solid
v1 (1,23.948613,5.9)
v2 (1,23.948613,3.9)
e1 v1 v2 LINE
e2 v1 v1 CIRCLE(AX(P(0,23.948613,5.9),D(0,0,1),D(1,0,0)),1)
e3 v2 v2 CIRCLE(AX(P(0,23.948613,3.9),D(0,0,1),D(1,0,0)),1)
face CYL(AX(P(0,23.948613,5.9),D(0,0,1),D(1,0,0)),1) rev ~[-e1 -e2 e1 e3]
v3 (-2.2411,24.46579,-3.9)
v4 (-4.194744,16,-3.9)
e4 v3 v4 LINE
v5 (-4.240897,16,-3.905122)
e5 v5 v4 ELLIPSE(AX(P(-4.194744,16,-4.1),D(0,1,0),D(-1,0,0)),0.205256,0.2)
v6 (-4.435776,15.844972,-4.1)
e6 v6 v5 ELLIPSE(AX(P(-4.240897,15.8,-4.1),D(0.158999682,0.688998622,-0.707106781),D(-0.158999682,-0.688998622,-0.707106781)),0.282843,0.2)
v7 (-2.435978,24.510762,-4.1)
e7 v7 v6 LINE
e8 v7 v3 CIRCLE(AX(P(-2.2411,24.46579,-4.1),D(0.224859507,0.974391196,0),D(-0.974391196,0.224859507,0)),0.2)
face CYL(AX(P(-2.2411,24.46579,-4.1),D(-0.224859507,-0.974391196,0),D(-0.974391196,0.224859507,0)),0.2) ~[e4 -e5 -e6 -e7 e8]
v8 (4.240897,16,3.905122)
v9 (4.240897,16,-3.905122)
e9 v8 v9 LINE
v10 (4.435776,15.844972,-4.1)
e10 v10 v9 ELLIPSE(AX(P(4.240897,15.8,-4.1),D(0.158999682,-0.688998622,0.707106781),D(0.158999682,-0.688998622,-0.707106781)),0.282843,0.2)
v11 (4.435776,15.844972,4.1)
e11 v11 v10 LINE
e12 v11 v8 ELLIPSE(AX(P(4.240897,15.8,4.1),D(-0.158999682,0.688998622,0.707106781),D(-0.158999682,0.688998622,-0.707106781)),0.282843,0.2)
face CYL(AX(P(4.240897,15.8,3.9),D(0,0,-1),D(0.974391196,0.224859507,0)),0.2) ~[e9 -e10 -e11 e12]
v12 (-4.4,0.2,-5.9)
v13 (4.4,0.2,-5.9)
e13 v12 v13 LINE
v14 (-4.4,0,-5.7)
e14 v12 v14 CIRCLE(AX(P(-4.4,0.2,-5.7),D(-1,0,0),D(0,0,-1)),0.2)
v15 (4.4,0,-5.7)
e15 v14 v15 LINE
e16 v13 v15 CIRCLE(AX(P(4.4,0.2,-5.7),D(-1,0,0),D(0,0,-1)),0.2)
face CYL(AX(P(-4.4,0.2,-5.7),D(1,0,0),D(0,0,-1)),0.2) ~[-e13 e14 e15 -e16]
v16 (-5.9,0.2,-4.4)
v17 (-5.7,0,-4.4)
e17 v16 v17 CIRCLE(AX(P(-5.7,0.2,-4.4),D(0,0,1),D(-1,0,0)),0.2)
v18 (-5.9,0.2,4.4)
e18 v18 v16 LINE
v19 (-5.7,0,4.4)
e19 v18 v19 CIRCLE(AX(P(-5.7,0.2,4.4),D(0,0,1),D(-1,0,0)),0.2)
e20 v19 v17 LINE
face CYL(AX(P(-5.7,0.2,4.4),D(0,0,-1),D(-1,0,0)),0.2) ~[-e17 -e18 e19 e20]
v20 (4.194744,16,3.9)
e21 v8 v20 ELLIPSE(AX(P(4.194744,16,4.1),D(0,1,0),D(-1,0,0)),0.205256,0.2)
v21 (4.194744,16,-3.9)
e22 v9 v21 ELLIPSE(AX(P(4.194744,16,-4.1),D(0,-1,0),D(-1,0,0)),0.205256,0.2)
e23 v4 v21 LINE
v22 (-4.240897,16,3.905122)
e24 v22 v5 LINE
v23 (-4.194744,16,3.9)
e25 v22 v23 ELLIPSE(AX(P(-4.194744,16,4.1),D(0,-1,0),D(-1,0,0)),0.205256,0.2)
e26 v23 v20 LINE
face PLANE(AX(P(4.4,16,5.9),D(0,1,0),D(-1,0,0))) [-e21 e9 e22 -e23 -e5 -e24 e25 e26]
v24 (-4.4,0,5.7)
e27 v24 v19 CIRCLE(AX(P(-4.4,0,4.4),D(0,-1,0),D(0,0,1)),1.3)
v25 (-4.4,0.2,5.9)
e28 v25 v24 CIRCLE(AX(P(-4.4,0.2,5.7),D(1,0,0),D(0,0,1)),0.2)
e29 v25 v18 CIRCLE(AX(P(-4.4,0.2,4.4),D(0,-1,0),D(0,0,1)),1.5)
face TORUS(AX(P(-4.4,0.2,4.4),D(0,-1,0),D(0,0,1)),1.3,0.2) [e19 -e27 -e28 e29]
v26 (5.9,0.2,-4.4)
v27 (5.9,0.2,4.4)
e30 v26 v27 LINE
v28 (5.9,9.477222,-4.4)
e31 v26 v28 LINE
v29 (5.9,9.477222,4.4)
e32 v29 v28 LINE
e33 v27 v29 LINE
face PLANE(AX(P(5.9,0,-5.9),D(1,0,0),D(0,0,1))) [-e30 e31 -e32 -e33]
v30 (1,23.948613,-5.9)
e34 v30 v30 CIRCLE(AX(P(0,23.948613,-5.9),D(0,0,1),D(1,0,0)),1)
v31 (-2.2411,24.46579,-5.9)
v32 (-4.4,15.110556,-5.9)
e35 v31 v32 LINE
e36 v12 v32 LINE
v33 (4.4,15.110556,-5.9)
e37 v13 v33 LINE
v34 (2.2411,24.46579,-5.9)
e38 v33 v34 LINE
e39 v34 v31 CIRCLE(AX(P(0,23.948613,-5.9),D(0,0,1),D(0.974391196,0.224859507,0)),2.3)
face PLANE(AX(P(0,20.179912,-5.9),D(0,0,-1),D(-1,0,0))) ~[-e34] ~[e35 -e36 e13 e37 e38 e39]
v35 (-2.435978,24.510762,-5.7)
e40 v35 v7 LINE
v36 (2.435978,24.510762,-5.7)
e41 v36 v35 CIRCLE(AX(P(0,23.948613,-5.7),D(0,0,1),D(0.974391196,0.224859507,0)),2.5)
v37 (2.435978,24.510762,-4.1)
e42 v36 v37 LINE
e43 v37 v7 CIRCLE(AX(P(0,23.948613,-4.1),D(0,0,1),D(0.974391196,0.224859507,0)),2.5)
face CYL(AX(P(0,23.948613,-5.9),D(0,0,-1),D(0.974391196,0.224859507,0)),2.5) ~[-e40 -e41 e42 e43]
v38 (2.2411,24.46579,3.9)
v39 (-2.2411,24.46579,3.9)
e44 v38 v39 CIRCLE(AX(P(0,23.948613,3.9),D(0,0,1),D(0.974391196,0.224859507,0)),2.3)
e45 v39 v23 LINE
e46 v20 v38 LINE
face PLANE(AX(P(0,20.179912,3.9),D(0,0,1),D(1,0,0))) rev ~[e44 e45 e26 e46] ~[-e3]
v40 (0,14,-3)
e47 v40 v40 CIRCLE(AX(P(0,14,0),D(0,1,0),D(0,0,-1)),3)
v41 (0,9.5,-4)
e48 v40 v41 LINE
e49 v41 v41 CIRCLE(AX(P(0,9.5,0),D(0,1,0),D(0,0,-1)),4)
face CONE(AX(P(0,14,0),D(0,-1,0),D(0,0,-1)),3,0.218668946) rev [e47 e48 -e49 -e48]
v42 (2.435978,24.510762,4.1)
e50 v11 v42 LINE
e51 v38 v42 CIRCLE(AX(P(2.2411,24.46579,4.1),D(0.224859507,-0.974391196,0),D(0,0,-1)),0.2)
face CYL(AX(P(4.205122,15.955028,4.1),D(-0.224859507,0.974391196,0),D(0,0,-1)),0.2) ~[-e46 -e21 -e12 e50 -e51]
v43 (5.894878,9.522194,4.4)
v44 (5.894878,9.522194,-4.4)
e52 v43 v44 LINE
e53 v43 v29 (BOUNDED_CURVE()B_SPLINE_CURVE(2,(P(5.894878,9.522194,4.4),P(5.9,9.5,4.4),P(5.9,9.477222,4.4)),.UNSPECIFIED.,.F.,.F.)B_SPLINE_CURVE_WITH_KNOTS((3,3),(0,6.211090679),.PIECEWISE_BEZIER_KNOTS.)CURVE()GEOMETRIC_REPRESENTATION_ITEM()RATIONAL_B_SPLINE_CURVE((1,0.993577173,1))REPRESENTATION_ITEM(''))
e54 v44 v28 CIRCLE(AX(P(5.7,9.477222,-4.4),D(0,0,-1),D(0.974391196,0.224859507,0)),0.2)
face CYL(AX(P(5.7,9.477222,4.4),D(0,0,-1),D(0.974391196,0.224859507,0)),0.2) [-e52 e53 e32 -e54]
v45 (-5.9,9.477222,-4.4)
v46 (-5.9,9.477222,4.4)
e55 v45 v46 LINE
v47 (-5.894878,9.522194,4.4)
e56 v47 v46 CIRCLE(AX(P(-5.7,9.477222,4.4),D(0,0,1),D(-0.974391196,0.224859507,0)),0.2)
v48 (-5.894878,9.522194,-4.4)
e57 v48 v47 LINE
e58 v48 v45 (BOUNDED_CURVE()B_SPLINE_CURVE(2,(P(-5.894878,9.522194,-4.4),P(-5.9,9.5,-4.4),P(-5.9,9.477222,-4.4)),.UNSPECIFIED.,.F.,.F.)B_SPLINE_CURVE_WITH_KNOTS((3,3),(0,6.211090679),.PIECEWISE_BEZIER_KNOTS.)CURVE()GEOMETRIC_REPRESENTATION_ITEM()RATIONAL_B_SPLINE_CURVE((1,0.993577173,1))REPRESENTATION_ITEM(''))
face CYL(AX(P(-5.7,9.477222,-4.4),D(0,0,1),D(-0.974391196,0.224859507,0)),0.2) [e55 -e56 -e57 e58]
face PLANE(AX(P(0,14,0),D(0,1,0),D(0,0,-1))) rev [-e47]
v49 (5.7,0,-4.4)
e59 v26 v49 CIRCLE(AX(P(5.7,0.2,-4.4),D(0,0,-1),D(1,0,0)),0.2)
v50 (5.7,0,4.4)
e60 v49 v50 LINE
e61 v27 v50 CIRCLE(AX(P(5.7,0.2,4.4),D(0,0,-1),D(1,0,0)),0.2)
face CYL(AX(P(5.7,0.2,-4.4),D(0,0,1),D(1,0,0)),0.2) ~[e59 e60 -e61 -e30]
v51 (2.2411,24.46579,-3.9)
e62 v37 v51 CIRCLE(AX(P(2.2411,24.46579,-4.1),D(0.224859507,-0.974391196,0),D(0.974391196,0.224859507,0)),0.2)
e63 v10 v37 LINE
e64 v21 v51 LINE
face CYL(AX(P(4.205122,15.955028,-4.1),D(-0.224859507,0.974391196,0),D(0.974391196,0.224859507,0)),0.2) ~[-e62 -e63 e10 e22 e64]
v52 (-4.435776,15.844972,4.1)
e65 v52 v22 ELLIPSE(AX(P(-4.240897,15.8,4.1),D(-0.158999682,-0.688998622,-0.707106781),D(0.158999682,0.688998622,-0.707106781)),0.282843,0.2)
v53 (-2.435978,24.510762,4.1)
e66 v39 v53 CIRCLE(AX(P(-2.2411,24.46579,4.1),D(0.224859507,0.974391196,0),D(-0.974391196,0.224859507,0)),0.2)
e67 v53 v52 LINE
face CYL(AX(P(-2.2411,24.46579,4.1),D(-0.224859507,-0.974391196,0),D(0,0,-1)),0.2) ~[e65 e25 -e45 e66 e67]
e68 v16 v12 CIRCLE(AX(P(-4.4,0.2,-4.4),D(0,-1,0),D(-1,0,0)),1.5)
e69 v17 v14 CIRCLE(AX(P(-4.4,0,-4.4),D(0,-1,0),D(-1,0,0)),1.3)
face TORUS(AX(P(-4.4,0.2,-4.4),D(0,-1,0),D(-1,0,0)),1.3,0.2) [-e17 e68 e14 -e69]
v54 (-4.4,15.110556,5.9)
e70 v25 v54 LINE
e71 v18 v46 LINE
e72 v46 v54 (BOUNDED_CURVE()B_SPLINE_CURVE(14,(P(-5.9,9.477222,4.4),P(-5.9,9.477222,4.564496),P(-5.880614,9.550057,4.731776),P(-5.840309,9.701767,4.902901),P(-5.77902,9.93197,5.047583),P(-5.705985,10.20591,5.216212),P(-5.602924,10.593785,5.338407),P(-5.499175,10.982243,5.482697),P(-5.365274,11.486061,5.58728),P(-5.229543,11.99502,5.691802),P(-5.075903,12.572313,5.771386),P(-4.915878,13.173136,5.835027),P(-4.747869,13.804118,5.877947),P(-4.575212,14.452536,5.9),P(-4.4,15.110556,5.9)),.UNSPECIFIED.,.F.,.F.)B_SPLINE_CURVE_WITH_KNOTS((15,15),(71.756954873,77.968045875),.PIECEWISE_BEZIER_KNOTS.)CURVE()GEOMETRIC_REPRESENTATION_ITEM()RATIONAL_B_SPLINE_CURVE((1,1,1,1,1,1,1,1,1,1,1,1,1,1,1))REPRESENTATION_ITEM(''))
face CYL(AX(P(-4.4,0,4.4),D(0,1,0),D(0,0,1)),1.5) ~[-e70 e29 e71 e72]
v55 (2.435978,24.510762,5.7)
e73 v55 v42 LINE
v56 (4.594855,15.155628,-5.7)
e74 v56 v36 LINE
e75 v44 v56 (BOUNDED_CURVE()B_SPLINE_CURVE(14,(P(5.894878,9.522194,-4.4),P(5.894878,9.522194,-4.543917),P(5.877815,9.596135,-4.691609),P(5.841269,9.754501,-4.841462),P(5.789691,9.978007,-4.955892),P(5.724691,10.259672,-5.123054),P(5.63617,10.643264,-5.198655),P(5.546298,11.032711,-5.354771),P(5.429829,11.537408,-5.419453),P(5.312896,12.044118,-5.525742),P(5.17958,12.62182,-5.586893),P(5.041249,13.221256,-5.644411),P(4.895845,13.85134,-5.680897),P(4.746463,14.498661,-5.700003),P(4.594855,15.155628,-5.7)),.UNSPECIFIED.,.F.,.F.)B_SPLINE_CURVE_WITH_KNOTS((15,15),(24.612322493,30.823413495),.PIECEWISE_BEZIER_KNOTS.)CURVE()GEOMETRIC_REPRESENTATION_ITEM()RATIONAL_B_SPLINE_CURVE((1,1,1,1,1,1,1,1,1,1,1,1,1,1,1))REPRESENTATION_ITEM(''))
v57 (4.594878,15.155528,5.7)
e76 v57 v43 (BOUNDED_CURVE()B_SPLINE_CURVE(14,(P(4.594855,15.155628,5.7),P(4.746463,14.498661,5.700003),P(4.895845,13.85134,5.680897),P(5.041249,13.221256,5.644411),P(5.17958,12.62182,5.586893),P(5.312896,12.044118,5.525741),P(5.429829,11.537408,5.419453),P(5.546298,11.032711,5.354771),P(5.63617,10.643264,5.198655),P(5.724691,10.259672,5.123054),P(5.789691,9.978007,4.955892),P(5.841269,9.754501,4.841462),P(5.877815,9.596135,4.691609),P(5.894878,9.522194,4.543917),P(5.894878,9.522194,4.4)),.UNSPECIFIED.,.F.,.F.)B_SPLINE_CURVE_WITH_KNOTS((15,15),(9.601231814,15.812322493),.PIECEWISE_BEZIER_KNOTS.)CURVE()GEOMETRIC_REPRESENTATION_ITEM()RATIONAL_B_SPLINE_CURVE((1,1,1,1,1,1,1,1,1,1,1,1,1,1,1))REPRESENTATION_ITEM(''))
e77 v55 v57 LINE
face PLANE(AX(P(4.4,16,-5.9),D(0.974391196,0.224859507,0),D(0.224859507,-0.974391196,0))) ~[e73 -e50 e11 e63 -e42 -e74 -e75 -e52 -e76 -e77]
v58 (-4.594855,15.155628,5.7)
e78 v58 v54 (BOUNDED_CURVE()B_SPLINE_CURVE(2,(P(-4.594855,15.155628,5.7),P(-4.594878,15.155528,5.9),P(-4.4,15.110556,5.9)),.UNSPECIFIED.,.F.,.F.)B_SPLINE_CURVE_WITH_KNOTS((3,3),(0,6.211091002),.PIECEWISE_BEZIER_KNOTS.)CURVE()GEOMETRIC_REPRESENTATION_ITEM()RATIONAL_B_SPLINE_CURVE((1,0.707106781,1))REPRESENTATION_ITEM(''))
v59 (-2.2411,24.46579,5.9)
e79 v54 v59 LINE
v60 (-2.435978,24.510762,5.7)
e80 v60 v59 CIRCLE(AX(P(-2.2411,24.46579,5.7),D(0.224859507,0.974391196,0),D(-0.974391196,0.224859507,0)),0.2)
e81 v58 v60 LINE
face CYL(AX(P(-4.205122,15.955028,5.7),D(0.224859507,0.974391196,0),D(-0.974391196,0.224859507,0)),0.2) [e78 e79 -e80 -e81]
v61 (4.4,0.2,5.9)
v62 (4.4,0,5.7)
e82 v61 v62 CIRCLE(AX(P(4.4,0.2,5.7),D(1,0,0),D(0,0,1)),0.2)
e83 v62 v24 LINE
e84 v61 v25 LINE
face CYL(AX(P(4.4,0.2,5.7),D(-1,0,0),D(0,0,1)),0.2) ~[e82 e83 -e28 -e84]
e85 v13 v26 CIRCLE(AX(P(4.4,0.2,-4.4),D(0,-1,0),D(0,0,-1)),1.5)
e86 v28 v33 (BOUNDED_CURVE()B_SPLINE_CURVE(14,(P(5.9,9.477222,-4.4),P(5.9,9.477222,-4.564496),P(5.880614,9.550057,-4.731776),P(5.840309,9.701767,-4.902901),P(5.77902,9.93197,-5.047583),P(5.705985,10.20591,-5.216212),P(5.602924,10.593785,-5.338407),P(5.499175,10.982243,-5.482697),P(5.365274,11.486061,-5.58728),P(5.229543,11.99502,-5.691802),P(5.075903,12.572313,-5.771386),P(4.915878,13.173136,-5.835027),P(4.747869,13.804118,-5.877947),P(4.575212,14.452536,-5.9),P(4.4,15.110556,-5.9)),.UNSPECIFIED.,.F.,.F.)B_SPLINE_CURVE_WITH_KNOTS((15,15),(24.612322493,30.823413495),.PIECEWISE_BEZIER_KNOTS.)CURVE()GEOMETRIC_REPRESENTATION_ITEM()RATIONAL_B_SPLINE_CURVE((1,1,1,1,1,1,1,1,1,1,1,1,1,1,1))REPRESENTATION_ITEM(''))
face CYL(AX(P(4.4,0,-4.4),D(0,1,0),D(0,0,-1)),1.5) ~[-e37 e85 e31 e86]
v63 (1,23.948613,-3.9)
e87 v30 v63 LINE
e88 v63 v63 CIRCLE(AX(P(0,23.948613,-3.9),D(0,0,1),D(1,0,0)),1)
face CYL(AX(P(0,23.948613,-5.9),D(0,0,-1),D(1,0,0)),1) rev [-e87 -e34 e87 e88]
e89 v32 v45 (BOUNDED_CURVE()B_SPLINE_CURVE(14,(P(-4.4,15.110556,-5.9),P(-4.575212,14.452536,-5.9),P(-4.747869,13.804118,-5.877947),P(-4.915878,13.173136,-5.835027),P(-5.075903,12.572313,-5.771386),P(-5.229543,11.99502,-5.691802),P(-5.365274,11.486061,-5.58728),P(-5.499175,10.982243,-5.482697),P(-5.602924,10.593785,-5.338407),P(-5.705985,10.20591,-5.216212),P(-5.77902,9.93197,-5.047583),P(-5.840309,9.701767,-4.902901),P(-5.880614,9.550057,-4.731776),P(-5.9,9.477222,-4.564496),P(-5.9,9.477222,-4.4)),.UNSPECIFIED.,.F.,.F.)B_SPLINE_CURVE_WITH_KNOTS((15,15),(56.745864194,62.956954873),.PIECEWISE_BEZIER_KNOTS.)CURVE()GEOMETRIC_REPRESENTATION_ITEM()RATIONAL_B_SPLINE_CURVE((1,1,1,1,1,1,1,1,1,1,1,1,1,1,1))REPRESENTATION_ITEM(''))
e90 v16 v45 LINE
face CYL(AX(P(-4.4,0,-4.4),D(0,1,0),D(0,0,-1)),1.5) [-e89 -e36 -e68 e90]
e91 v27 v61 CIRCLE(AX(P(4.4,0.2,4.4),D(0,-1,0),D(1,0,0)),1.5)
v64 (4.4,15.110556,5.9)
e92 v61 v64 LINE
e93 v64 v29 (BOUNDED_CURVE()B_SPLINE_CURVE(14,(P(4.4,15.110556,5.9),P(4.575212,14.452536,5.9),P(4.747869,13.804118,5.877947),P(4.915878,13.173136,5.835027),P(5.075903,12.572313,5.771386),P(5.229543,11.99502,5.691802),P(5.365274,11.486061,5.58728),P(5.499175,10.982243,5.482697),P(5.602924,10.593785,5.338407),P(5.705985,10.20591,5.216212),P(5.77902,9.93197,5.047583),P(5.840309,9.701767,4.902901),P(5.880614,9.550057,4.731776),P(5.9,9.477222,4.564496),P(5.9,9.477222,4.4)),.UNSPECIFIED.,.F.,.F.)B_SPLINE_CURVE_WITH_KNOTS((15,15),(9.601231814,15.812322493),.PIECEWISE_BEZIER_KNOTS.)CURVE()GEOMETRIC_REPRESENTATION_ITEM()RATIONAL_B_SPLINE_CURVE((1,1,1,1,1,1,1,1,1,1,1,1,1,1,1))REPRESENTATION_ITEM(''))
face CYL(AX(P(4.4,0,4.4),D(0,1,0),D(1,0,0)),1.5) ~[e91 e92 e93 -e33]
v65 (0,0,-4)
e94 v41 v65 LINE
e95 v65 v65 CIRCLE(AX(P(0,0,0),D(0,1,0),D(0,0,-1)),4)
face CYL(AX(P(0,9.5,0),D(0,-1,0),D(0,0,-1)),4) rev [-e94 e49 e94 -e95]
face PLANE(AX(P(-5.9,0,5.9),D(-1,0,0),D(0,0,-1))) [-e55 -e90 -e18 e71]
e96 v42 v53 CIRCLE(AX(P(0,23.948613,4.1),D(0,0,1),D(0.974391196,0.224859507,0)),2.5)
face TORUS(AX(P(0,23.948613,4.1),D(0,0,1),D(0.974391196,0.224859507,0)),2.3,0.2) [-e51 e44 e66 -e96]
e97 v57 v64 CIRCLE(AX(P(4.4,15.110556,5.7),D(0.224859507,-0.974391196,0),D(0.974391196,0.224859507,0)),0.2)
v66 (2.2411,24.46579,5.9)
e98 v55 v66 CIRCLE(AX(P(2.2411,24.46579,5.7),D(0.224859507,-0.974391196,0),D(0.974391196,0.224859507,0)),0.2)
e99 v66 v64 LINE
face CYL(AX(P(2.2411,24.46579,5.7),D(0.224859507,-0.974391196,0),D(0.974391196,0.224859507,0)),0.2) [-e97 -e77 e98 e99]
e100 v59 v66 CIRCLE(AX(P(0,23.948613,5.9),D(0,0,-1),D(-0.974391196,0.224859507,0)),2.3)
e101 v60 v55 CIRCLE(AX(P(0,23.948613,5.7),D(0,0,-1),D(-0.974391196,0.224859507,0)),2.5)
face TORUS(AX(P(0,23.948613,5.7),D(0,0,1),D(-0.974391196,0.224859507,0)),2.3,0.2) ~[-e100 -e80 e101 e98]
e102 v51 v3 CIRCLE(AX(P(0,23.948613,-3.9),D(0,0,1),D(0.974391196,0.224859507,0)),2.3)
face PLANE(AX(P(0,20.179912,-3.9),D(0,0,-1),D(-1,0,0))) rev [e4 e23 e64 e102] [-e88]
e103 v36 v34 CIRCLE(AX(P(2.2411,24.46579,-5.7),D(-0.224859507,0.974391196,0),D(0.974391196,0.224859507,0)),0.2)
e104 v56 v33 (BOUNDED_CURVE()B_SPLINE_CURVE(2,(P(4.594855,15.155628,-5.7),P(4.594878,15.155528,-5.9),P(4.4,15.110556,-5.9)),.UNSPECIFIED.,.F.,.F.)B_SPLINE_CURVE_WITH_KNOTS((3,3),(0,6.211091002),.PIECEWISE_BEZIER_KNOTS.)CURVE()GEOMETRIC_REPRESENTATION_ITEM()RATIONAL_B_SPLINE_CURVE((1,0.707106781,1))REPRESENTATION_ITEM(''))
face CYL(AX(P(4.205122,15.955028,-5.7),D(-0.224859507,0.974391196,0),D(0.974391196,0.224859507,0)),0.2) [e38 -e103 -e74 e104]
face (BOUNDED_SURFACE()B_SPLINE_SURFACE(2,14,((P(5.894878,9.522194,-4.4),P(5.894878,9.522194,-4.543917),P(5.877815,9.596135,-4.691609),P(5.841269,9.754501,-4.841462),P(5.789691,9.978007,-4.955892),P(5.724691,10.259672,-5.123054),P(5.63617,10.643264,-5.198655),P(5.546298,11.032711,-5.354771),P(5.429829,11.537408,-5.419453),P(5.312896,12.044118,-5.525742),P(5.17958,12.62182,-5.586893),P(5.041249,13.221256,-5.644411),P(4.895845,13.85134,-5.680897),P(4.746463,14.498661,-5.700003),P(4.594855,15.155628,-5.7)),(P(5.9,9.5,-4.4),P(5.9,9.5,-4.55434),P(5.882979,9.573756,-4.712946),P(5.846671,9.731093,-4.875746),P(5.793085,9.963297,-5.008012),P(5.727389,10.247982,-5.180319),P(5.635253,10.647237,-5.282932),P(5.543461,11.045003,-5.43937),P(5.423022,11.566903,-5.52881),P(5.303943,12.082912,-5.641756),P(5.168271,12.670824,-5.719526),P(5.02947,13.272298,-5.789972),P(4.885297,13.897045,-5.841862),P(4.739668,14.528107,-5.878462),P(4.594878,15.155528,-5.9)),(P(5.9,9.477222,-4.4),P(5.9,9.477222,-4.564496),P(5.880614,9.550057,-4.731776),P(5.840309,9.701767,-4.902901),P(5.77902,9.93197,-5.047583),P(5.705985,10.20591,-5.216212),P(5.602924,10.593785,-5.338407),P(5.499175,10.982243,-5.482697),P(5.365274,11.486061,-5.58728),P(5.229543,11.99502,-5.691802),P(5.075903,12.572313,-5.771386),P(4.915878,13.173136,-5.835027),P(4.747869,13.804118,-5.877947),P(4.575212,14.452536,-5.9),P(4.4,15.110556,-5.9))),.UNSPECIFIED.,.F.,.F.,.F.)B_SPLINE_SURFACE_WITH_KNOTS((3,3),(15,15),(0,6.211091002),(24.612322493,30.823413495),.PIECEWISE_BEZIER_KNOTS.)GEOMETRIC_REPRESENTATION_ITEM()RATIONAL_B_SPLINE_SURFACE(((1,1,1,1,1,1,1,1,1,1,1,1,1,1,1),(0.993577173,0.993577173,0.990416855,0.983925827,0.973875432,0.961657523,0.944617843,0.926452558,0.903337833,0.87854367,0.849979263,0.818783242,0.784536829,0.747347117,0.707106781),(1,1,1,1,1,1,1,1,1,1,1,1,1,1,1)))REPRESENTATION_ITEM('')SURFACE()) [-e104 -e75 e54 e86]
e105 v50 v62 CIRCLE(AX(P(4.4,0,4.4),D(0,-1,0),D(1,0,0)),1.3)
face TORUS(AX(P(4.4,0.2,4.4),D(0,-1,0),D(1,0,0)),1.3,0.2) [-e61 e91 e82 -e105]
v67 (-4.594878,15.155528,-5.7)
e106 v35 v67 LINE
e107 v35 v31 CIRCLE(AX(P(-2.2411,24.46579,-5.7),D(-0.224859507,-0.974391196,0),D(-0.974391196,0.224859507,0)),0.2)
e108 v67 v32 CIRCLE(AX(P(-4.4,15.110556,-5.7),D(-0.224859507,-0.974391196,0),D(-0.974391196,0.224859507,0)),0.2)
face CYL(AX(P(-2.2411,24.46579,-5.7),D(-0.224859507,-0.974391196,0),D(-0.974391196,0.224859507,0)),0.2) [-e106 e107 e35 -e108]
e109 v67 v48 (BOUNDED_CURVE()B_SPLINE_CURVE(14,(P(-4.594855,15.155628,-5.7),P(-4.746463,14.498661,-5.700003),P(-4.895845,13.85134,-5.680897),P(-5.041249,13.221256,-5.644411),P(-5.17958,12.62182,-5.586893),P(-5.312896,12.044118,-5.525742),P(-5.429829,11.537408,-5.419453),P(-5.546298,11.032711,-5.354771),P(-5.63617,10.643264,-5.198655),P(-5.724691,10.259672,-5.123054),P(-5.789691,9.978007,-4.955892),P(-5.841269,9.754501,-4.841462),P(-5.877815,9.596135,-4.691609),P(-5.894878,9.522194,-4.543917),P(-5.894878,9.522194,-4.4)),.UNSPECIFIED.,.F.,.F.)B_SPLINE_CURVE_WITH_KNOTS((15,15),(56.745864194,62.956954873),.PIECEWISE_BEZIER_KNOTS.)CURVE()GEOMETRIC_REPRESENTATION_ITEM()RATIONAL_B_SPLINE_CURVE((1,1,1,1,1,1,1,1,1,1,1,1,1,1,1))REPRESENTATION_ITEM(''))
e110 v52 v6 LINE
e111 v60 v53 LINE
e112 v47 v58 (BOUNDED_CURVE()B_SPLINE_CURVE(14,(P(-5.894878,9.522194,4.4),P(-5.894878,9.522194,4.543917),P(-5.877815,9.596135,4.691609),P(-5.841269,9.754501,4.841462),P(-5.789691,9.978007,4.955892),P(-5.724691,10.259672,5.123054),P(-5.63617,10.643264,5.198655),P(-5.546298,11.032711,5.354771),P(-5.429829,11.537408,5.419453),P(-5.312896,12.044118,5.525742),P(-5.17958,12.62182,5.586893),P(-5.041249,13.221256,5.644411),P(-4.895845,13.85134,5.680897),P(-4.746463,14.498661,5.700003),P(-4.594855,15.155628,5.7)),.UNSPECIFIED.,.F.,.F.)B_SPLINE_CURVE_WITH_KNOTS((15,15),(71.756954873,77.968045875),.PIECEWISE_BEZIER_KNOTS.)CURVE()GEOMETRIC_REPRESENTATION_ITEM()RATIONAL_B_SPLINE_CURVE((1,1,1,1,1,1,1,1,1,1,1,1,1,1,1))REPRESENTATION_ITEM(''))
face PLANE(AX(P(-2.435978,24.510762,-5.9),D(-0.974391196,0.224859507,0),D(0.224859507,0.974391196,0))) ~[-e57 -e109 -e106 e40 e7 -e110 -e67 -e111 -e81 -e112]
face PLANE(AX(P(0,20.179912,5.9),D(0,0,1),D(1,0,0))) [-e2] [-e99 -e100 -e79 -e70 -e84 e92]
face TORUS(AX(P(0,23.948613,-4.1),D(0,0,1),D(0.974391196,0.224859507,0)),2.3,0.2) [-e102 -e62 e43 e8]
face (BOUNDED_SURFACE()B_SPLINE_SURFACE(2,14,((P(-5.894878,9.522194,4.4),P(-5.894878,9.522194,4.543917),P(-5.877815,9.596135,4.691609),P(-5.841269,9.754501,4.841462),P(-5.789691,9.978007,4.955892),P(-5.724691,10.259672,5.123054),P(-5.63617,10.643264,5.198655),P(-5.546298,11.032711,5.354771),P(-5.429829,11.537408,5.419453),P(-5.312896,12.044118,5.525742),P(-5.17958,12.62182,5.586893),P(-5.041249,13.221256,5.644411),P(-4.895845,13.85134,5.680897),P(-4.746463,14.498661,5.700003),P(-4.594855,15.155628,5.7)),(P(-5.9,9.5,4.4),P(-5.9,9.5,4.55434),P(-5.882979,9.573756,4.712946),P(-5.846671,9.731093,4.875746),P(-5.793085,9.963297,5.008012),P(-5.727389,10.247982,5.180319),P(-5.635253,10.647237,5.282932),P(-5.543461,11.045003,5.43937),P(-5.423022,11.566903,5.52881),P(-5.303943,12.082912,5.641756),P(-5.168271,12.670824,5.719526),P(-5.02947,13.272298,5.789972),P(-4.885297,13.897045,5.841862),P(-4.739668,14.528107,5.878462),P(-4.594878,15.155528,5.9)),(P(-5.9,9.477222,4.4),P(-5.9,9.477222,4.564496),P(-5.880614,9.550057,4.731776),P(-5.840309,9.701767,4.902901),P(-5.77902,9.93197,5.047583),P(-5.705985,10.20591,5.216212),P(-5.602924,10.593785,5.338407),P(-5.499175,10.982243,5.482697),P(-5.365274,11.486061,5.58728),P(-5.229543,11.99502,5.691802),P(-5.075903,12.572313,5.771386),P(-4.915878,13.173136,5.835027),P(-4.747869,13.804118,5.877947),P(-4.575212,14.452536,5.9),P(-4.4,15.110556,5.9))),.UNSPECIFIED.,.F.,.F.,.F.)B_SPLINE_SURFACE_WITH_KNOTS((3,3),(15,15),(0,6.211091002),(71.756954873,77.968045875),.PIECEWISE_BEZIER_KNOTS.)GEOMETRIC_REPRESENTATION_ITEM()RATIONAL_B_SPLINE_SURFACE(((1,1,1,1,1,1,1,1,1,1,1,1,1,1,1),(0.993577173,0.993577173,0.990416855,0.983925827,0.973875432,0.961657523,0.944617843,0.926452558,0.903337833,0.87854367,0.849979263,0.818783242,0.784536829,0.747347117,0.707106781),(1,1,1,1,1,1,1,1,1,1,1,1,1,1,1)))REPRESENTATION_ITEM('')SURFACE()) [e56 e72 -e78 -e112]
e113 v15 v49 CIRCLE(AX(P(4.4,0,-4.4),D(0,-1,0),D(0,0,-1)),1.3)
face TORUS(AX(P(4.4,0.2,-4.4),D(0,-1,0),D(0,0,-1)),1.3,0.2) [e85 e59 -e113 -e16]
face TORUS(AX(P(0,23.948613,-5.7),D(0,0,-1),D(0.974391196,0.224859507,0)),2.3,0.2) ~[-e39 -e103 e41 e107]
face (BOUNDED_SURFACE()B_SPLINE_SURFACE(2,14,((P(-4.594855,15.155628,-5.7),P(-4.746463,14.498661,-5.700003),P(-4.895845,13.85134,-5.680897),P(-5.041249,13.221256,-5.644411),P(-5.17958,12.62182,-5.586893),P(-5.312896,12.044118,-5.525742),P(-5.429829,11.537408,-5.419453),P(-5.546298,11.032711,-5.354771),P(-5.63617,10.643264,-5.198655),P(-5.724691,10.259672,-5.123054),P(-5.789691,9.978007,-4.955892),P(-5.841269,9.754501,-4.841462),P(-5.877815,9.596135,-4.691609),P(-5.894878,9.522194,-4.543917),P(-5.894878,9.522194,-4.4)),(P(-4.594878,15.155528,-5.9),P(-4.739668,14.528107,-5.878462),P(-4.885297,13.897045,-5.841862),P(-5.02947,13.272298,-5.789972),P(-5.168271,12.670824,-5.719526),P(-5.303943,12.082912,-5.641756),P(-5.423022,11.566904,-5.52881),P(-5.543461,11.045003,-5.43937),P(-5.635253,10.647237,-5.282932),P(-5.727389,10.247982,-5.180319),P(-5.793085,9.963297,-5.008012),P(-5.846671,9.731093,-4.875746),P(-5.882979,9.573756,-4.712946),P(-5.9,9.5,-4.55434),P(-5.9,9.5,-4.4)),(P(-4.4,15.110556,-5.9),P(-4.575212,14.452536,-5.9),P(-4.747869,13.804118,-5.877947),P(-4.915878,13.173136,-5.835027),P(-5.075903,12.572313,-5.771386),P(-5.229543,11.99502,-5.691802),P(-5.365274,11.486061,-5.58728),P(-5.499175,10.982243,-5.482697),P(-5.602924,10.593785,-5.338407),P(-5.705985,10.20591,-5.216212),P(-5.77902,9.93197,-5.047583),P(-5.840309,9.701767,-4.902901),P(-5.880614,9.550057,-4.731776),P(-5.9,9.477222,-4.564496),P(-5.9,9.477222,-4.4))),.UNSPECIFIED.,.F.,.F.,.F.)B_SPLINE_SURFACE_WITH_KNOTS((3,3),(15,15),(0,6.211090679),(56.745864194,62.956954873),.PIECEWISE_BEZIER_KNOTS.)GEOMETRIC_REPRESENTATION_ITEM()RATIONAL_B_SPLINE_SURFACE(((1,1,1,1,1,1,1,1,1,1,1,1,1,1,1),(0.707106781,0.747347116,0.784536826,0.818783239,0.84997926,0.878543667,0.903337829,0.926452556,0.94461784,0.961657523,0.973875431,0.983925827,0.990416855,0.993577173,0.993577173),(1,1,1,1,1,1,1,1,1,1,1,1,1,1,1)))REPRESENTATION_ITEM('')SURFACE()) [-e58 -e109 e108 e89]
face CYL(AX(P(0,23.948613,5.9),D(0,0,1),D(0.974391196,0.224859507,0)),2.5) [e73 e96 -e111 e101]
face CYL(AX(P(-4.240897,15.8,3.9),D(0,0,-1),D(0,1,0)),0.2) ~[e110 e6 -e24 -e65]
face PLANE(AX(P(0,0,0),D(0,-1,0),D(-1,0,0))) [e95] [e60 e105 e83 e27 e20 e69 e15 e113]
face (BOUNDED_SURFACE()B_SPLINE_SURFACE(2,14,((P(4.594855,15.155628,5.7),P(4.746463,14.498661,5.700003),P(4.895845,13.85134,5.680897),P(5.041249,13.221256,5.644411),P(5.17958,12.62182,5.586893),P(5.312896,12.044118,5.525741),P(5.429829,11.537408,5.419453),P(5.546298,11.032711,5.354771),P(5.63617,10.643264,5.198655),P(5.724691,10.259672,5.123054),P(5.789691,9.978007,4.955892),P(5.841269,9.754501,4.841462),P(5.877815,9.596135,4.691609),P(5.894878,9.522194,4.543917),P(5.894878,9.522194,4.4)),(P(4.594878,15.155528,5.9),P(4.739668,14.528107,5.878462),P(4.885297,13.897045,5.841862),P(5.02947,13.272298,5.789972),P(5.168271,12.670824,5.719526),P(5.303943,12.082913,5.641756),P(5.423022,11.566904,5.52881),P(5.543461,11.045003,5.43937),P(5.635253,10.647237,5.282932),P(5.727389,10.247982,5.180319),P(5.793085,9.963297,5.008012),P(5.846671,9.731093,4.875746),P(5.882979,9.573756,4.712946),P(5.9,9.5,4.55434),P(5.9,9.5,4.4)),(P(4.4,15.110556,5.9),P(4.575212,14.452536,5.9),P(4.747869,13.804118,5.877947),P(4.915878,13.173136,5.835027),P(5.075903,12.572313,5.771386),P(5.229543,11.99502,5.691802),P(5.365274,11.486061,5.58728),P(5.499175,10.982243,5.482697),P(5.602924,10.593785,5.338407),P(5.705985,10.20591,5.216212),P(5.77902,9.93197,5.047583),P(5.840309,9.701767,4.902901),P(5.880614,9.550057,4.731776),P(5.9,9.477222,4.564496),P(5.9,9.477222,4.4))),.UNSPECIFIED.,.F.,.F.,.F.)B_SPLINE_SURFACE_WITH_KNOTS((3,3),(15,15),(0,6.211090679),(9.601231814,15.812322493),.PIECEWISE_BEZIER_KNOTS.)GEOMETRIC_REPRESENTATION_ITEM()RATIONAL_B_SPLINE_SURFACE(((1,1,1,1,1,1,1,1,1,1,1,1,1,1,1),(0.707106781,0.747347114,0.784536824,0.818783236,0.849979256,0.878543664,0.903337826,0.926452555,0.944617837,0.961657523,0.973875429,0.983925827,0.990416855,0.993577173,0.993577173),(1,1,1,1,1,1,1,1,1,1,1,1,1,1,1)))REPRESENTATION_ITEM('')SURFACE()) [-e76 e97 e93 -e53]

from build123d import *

# Parameters (mm, degrees)
EXTRUDE_1_DEPTH     = 9.5
EXTRUDE_2_DEPTH     = 11.8
EXTRUDE_3_DEPTH     = 2
CUT_EXTRUDE_1_REACH = 31.556
SKETCH_4_R          = 1.0000000000000002
FILLET_1_R          = 1.5
FILLET_2_R          = 0.2


with BuildPart() as part:
    # 草图1 → 凸台-拉伸1 (new body)
    with BuildSketch(Plane(origin=(0, 0, 0), x_dir=(1, 0, 0), z_dir=(0, 1, 0))):
        Polygon((5.899999999999999, 5.9), (5.9, -5.9), (-5.9, -5.900000000000002), (-5.900000000000002, 5.899999999999999), align=None)
    extrude(amount=EXTRUDE_1_DEPTH)

    # 草图2 → 凸台-拉伸2 (add)
    with BuildSketch(Plane.XY.offset(5.900000000000001)):
        Polygon((-5.900000000000001, 9.5), (5.8999999999999995, 9.5), (4.3999999999999995, 16), (-4.400000000000001, 16), align=None)
    extrude(amount=-EXTRUDE_2_DEPTH)

    # 草图3 → 凸台-拉伸3 (add)
    with BuildSketch(Plane.XY.offset(5.900000000000001)):
        with BuildLine():
            Line((-4.400000000000001, 16), (4.3999999999999995, 16))
            Line((4.3999999999999995, 16), (2.435977989236515, 24.510762046641762))
            ThreePointArc((2.435977989236515, 24.510762046641762), (-4.169e-14, 26.448613279894865), (-2.435977989236587, 24.510762046641744))
            Line((-2.435977989236587, 24.510762046641744), (-4.400000000000001, 16))
        make_face()
    extrude_3 = extrude(amount=-EXTRUDE_3_DEPTH)

    # 草图4 → 切除-拉伸1 (cut, up to next)
    with BuildSketch(Plane.XY.offset(5.900000000000001), mode=Mode.PRIVATE) as cut_extrude_1_sk1:
        with Locations((-3.296e-14, 23.948613279894865)):
            Circle(SKETCH_4_R)
    cut_extrude_1_tool1 = extrude(cut_extrude_1_sk1.sketch, amount=-CUT_EXTRUDE_1_REACH, mode=Mode.PRIVATE) & part.part
    cut_extrude_1 = cut_extrude_1_tool1.solids().sort_by_distance((0, 23.948613, 5.9))[0]
    add(cut_extrude_1, mode=Mode.SUBTRACT)

    # 镜向1: 凸台-拉伸3, 切除-拉伸1 across plane
    add(extrude_3.mirror(Plane.XY))
    add(cut_extrude_1.mirror(Plane.XY), mode=Mode.SUBTRACT)

    # 草图5 → 切除-旋转1 (revolve, cut)
    with BuildSketch(Plane.XY, mode=Mode.PRIVATE) as cut_revolve_1_sk:
        Polygon((0, 0), (0, 14), (3, 14), (3.999999999999999, 9.5), (4, 0), align=None)
    revolve(cut_revolve_1_sk.sketch.rotate(Axis((0, 0, 0), (0, 1, 0)), 90), axis=Axis((0, 0, 0), (0, 1, 0)), mode=Mode.SUBTRACT)

    # 圆角1
    fillet_1_edges = [part.edges().sort_by_distance(p)[0] for p in [
        (5.899999999999999, 4.75, -5.9),
        (5.9, 4.75, 5.9),
        (-5.9, 4.75, 5.900000000000002),
        (-5.900000000000002, 4.75, -5.899999999999999),
    ]]
    fillet(fillet_1_edges, radius=FILLET_1_R)

    # 圆角2
    fillet_2_edges = [part.edges().sort_by_distance(p)[0] for p in [
        (3.417988994618258, 20.25538102332088, 5.900000000000001),
        (5.19350478455585, 12.56147926692465, 5.672929753319866),
        (5.8999999999999995, 9.5, -8.9e-16),
        (5.193504784555849, 12.561479266924657, -5.672929753319866),
        (3.4179889946182564, 20.255381023320886, -5.9),
        (-4.254e-14, 26.448613279894865, -5.900000000000001),
        (-4.254e-14, 26.448613279894865, -3.9000000000000012),
        (-3.417988994618308, 20.255381023320872, -5.9),
        (-5.193504714374944, 12.561479571041913, -5.672929797068456),
        (-5.900000000000001, 9.5, 1.78e-15),
        (-5.193504714374941, 12.561479571041922, 5.672929797068459),
        (-3.4179889946183075, 20.255381023320876, 5.900000000000001),
        (0, 0, 5.900000000000001),
        (5.460660171779821, 0, 5.460660171779821),
        (5.8999999999999995, 0, 0),
        (5.4606601717798195, 0, -5.460660171779821),
        (-1.78e-15, 0, -5.8999999999999995),
        (-5.460660171779823, 0, -5.4606601717798195),
        (-5.900000000000001, 0, 1.78e-15),
        (-4.254e-14, 26.448613279894865, 5.900000000000001),
        (-4.254e-14, 26.448613279894865, 3.9000000000000012),
        (-5.460660171779821, 0, 5.460660171779823),
        (3.4179889946182582, 20.25538102332088, 3.9000000000000012),
        (-3.4179889946182938, 20.255381023320872, -3.9000000000000012),
        (3.4179889946182582, 20.25538102332088, -3.9000000000000012),
        (4.4, 16, 0),
        (-3.4179889946182933, 20.255381023320872, 3.9000000000000012),
        (-4.4, 16, 0),
    ]]
    fillet(fillet_2_edges, radius=FILLET_2_R)


solid = part.part
